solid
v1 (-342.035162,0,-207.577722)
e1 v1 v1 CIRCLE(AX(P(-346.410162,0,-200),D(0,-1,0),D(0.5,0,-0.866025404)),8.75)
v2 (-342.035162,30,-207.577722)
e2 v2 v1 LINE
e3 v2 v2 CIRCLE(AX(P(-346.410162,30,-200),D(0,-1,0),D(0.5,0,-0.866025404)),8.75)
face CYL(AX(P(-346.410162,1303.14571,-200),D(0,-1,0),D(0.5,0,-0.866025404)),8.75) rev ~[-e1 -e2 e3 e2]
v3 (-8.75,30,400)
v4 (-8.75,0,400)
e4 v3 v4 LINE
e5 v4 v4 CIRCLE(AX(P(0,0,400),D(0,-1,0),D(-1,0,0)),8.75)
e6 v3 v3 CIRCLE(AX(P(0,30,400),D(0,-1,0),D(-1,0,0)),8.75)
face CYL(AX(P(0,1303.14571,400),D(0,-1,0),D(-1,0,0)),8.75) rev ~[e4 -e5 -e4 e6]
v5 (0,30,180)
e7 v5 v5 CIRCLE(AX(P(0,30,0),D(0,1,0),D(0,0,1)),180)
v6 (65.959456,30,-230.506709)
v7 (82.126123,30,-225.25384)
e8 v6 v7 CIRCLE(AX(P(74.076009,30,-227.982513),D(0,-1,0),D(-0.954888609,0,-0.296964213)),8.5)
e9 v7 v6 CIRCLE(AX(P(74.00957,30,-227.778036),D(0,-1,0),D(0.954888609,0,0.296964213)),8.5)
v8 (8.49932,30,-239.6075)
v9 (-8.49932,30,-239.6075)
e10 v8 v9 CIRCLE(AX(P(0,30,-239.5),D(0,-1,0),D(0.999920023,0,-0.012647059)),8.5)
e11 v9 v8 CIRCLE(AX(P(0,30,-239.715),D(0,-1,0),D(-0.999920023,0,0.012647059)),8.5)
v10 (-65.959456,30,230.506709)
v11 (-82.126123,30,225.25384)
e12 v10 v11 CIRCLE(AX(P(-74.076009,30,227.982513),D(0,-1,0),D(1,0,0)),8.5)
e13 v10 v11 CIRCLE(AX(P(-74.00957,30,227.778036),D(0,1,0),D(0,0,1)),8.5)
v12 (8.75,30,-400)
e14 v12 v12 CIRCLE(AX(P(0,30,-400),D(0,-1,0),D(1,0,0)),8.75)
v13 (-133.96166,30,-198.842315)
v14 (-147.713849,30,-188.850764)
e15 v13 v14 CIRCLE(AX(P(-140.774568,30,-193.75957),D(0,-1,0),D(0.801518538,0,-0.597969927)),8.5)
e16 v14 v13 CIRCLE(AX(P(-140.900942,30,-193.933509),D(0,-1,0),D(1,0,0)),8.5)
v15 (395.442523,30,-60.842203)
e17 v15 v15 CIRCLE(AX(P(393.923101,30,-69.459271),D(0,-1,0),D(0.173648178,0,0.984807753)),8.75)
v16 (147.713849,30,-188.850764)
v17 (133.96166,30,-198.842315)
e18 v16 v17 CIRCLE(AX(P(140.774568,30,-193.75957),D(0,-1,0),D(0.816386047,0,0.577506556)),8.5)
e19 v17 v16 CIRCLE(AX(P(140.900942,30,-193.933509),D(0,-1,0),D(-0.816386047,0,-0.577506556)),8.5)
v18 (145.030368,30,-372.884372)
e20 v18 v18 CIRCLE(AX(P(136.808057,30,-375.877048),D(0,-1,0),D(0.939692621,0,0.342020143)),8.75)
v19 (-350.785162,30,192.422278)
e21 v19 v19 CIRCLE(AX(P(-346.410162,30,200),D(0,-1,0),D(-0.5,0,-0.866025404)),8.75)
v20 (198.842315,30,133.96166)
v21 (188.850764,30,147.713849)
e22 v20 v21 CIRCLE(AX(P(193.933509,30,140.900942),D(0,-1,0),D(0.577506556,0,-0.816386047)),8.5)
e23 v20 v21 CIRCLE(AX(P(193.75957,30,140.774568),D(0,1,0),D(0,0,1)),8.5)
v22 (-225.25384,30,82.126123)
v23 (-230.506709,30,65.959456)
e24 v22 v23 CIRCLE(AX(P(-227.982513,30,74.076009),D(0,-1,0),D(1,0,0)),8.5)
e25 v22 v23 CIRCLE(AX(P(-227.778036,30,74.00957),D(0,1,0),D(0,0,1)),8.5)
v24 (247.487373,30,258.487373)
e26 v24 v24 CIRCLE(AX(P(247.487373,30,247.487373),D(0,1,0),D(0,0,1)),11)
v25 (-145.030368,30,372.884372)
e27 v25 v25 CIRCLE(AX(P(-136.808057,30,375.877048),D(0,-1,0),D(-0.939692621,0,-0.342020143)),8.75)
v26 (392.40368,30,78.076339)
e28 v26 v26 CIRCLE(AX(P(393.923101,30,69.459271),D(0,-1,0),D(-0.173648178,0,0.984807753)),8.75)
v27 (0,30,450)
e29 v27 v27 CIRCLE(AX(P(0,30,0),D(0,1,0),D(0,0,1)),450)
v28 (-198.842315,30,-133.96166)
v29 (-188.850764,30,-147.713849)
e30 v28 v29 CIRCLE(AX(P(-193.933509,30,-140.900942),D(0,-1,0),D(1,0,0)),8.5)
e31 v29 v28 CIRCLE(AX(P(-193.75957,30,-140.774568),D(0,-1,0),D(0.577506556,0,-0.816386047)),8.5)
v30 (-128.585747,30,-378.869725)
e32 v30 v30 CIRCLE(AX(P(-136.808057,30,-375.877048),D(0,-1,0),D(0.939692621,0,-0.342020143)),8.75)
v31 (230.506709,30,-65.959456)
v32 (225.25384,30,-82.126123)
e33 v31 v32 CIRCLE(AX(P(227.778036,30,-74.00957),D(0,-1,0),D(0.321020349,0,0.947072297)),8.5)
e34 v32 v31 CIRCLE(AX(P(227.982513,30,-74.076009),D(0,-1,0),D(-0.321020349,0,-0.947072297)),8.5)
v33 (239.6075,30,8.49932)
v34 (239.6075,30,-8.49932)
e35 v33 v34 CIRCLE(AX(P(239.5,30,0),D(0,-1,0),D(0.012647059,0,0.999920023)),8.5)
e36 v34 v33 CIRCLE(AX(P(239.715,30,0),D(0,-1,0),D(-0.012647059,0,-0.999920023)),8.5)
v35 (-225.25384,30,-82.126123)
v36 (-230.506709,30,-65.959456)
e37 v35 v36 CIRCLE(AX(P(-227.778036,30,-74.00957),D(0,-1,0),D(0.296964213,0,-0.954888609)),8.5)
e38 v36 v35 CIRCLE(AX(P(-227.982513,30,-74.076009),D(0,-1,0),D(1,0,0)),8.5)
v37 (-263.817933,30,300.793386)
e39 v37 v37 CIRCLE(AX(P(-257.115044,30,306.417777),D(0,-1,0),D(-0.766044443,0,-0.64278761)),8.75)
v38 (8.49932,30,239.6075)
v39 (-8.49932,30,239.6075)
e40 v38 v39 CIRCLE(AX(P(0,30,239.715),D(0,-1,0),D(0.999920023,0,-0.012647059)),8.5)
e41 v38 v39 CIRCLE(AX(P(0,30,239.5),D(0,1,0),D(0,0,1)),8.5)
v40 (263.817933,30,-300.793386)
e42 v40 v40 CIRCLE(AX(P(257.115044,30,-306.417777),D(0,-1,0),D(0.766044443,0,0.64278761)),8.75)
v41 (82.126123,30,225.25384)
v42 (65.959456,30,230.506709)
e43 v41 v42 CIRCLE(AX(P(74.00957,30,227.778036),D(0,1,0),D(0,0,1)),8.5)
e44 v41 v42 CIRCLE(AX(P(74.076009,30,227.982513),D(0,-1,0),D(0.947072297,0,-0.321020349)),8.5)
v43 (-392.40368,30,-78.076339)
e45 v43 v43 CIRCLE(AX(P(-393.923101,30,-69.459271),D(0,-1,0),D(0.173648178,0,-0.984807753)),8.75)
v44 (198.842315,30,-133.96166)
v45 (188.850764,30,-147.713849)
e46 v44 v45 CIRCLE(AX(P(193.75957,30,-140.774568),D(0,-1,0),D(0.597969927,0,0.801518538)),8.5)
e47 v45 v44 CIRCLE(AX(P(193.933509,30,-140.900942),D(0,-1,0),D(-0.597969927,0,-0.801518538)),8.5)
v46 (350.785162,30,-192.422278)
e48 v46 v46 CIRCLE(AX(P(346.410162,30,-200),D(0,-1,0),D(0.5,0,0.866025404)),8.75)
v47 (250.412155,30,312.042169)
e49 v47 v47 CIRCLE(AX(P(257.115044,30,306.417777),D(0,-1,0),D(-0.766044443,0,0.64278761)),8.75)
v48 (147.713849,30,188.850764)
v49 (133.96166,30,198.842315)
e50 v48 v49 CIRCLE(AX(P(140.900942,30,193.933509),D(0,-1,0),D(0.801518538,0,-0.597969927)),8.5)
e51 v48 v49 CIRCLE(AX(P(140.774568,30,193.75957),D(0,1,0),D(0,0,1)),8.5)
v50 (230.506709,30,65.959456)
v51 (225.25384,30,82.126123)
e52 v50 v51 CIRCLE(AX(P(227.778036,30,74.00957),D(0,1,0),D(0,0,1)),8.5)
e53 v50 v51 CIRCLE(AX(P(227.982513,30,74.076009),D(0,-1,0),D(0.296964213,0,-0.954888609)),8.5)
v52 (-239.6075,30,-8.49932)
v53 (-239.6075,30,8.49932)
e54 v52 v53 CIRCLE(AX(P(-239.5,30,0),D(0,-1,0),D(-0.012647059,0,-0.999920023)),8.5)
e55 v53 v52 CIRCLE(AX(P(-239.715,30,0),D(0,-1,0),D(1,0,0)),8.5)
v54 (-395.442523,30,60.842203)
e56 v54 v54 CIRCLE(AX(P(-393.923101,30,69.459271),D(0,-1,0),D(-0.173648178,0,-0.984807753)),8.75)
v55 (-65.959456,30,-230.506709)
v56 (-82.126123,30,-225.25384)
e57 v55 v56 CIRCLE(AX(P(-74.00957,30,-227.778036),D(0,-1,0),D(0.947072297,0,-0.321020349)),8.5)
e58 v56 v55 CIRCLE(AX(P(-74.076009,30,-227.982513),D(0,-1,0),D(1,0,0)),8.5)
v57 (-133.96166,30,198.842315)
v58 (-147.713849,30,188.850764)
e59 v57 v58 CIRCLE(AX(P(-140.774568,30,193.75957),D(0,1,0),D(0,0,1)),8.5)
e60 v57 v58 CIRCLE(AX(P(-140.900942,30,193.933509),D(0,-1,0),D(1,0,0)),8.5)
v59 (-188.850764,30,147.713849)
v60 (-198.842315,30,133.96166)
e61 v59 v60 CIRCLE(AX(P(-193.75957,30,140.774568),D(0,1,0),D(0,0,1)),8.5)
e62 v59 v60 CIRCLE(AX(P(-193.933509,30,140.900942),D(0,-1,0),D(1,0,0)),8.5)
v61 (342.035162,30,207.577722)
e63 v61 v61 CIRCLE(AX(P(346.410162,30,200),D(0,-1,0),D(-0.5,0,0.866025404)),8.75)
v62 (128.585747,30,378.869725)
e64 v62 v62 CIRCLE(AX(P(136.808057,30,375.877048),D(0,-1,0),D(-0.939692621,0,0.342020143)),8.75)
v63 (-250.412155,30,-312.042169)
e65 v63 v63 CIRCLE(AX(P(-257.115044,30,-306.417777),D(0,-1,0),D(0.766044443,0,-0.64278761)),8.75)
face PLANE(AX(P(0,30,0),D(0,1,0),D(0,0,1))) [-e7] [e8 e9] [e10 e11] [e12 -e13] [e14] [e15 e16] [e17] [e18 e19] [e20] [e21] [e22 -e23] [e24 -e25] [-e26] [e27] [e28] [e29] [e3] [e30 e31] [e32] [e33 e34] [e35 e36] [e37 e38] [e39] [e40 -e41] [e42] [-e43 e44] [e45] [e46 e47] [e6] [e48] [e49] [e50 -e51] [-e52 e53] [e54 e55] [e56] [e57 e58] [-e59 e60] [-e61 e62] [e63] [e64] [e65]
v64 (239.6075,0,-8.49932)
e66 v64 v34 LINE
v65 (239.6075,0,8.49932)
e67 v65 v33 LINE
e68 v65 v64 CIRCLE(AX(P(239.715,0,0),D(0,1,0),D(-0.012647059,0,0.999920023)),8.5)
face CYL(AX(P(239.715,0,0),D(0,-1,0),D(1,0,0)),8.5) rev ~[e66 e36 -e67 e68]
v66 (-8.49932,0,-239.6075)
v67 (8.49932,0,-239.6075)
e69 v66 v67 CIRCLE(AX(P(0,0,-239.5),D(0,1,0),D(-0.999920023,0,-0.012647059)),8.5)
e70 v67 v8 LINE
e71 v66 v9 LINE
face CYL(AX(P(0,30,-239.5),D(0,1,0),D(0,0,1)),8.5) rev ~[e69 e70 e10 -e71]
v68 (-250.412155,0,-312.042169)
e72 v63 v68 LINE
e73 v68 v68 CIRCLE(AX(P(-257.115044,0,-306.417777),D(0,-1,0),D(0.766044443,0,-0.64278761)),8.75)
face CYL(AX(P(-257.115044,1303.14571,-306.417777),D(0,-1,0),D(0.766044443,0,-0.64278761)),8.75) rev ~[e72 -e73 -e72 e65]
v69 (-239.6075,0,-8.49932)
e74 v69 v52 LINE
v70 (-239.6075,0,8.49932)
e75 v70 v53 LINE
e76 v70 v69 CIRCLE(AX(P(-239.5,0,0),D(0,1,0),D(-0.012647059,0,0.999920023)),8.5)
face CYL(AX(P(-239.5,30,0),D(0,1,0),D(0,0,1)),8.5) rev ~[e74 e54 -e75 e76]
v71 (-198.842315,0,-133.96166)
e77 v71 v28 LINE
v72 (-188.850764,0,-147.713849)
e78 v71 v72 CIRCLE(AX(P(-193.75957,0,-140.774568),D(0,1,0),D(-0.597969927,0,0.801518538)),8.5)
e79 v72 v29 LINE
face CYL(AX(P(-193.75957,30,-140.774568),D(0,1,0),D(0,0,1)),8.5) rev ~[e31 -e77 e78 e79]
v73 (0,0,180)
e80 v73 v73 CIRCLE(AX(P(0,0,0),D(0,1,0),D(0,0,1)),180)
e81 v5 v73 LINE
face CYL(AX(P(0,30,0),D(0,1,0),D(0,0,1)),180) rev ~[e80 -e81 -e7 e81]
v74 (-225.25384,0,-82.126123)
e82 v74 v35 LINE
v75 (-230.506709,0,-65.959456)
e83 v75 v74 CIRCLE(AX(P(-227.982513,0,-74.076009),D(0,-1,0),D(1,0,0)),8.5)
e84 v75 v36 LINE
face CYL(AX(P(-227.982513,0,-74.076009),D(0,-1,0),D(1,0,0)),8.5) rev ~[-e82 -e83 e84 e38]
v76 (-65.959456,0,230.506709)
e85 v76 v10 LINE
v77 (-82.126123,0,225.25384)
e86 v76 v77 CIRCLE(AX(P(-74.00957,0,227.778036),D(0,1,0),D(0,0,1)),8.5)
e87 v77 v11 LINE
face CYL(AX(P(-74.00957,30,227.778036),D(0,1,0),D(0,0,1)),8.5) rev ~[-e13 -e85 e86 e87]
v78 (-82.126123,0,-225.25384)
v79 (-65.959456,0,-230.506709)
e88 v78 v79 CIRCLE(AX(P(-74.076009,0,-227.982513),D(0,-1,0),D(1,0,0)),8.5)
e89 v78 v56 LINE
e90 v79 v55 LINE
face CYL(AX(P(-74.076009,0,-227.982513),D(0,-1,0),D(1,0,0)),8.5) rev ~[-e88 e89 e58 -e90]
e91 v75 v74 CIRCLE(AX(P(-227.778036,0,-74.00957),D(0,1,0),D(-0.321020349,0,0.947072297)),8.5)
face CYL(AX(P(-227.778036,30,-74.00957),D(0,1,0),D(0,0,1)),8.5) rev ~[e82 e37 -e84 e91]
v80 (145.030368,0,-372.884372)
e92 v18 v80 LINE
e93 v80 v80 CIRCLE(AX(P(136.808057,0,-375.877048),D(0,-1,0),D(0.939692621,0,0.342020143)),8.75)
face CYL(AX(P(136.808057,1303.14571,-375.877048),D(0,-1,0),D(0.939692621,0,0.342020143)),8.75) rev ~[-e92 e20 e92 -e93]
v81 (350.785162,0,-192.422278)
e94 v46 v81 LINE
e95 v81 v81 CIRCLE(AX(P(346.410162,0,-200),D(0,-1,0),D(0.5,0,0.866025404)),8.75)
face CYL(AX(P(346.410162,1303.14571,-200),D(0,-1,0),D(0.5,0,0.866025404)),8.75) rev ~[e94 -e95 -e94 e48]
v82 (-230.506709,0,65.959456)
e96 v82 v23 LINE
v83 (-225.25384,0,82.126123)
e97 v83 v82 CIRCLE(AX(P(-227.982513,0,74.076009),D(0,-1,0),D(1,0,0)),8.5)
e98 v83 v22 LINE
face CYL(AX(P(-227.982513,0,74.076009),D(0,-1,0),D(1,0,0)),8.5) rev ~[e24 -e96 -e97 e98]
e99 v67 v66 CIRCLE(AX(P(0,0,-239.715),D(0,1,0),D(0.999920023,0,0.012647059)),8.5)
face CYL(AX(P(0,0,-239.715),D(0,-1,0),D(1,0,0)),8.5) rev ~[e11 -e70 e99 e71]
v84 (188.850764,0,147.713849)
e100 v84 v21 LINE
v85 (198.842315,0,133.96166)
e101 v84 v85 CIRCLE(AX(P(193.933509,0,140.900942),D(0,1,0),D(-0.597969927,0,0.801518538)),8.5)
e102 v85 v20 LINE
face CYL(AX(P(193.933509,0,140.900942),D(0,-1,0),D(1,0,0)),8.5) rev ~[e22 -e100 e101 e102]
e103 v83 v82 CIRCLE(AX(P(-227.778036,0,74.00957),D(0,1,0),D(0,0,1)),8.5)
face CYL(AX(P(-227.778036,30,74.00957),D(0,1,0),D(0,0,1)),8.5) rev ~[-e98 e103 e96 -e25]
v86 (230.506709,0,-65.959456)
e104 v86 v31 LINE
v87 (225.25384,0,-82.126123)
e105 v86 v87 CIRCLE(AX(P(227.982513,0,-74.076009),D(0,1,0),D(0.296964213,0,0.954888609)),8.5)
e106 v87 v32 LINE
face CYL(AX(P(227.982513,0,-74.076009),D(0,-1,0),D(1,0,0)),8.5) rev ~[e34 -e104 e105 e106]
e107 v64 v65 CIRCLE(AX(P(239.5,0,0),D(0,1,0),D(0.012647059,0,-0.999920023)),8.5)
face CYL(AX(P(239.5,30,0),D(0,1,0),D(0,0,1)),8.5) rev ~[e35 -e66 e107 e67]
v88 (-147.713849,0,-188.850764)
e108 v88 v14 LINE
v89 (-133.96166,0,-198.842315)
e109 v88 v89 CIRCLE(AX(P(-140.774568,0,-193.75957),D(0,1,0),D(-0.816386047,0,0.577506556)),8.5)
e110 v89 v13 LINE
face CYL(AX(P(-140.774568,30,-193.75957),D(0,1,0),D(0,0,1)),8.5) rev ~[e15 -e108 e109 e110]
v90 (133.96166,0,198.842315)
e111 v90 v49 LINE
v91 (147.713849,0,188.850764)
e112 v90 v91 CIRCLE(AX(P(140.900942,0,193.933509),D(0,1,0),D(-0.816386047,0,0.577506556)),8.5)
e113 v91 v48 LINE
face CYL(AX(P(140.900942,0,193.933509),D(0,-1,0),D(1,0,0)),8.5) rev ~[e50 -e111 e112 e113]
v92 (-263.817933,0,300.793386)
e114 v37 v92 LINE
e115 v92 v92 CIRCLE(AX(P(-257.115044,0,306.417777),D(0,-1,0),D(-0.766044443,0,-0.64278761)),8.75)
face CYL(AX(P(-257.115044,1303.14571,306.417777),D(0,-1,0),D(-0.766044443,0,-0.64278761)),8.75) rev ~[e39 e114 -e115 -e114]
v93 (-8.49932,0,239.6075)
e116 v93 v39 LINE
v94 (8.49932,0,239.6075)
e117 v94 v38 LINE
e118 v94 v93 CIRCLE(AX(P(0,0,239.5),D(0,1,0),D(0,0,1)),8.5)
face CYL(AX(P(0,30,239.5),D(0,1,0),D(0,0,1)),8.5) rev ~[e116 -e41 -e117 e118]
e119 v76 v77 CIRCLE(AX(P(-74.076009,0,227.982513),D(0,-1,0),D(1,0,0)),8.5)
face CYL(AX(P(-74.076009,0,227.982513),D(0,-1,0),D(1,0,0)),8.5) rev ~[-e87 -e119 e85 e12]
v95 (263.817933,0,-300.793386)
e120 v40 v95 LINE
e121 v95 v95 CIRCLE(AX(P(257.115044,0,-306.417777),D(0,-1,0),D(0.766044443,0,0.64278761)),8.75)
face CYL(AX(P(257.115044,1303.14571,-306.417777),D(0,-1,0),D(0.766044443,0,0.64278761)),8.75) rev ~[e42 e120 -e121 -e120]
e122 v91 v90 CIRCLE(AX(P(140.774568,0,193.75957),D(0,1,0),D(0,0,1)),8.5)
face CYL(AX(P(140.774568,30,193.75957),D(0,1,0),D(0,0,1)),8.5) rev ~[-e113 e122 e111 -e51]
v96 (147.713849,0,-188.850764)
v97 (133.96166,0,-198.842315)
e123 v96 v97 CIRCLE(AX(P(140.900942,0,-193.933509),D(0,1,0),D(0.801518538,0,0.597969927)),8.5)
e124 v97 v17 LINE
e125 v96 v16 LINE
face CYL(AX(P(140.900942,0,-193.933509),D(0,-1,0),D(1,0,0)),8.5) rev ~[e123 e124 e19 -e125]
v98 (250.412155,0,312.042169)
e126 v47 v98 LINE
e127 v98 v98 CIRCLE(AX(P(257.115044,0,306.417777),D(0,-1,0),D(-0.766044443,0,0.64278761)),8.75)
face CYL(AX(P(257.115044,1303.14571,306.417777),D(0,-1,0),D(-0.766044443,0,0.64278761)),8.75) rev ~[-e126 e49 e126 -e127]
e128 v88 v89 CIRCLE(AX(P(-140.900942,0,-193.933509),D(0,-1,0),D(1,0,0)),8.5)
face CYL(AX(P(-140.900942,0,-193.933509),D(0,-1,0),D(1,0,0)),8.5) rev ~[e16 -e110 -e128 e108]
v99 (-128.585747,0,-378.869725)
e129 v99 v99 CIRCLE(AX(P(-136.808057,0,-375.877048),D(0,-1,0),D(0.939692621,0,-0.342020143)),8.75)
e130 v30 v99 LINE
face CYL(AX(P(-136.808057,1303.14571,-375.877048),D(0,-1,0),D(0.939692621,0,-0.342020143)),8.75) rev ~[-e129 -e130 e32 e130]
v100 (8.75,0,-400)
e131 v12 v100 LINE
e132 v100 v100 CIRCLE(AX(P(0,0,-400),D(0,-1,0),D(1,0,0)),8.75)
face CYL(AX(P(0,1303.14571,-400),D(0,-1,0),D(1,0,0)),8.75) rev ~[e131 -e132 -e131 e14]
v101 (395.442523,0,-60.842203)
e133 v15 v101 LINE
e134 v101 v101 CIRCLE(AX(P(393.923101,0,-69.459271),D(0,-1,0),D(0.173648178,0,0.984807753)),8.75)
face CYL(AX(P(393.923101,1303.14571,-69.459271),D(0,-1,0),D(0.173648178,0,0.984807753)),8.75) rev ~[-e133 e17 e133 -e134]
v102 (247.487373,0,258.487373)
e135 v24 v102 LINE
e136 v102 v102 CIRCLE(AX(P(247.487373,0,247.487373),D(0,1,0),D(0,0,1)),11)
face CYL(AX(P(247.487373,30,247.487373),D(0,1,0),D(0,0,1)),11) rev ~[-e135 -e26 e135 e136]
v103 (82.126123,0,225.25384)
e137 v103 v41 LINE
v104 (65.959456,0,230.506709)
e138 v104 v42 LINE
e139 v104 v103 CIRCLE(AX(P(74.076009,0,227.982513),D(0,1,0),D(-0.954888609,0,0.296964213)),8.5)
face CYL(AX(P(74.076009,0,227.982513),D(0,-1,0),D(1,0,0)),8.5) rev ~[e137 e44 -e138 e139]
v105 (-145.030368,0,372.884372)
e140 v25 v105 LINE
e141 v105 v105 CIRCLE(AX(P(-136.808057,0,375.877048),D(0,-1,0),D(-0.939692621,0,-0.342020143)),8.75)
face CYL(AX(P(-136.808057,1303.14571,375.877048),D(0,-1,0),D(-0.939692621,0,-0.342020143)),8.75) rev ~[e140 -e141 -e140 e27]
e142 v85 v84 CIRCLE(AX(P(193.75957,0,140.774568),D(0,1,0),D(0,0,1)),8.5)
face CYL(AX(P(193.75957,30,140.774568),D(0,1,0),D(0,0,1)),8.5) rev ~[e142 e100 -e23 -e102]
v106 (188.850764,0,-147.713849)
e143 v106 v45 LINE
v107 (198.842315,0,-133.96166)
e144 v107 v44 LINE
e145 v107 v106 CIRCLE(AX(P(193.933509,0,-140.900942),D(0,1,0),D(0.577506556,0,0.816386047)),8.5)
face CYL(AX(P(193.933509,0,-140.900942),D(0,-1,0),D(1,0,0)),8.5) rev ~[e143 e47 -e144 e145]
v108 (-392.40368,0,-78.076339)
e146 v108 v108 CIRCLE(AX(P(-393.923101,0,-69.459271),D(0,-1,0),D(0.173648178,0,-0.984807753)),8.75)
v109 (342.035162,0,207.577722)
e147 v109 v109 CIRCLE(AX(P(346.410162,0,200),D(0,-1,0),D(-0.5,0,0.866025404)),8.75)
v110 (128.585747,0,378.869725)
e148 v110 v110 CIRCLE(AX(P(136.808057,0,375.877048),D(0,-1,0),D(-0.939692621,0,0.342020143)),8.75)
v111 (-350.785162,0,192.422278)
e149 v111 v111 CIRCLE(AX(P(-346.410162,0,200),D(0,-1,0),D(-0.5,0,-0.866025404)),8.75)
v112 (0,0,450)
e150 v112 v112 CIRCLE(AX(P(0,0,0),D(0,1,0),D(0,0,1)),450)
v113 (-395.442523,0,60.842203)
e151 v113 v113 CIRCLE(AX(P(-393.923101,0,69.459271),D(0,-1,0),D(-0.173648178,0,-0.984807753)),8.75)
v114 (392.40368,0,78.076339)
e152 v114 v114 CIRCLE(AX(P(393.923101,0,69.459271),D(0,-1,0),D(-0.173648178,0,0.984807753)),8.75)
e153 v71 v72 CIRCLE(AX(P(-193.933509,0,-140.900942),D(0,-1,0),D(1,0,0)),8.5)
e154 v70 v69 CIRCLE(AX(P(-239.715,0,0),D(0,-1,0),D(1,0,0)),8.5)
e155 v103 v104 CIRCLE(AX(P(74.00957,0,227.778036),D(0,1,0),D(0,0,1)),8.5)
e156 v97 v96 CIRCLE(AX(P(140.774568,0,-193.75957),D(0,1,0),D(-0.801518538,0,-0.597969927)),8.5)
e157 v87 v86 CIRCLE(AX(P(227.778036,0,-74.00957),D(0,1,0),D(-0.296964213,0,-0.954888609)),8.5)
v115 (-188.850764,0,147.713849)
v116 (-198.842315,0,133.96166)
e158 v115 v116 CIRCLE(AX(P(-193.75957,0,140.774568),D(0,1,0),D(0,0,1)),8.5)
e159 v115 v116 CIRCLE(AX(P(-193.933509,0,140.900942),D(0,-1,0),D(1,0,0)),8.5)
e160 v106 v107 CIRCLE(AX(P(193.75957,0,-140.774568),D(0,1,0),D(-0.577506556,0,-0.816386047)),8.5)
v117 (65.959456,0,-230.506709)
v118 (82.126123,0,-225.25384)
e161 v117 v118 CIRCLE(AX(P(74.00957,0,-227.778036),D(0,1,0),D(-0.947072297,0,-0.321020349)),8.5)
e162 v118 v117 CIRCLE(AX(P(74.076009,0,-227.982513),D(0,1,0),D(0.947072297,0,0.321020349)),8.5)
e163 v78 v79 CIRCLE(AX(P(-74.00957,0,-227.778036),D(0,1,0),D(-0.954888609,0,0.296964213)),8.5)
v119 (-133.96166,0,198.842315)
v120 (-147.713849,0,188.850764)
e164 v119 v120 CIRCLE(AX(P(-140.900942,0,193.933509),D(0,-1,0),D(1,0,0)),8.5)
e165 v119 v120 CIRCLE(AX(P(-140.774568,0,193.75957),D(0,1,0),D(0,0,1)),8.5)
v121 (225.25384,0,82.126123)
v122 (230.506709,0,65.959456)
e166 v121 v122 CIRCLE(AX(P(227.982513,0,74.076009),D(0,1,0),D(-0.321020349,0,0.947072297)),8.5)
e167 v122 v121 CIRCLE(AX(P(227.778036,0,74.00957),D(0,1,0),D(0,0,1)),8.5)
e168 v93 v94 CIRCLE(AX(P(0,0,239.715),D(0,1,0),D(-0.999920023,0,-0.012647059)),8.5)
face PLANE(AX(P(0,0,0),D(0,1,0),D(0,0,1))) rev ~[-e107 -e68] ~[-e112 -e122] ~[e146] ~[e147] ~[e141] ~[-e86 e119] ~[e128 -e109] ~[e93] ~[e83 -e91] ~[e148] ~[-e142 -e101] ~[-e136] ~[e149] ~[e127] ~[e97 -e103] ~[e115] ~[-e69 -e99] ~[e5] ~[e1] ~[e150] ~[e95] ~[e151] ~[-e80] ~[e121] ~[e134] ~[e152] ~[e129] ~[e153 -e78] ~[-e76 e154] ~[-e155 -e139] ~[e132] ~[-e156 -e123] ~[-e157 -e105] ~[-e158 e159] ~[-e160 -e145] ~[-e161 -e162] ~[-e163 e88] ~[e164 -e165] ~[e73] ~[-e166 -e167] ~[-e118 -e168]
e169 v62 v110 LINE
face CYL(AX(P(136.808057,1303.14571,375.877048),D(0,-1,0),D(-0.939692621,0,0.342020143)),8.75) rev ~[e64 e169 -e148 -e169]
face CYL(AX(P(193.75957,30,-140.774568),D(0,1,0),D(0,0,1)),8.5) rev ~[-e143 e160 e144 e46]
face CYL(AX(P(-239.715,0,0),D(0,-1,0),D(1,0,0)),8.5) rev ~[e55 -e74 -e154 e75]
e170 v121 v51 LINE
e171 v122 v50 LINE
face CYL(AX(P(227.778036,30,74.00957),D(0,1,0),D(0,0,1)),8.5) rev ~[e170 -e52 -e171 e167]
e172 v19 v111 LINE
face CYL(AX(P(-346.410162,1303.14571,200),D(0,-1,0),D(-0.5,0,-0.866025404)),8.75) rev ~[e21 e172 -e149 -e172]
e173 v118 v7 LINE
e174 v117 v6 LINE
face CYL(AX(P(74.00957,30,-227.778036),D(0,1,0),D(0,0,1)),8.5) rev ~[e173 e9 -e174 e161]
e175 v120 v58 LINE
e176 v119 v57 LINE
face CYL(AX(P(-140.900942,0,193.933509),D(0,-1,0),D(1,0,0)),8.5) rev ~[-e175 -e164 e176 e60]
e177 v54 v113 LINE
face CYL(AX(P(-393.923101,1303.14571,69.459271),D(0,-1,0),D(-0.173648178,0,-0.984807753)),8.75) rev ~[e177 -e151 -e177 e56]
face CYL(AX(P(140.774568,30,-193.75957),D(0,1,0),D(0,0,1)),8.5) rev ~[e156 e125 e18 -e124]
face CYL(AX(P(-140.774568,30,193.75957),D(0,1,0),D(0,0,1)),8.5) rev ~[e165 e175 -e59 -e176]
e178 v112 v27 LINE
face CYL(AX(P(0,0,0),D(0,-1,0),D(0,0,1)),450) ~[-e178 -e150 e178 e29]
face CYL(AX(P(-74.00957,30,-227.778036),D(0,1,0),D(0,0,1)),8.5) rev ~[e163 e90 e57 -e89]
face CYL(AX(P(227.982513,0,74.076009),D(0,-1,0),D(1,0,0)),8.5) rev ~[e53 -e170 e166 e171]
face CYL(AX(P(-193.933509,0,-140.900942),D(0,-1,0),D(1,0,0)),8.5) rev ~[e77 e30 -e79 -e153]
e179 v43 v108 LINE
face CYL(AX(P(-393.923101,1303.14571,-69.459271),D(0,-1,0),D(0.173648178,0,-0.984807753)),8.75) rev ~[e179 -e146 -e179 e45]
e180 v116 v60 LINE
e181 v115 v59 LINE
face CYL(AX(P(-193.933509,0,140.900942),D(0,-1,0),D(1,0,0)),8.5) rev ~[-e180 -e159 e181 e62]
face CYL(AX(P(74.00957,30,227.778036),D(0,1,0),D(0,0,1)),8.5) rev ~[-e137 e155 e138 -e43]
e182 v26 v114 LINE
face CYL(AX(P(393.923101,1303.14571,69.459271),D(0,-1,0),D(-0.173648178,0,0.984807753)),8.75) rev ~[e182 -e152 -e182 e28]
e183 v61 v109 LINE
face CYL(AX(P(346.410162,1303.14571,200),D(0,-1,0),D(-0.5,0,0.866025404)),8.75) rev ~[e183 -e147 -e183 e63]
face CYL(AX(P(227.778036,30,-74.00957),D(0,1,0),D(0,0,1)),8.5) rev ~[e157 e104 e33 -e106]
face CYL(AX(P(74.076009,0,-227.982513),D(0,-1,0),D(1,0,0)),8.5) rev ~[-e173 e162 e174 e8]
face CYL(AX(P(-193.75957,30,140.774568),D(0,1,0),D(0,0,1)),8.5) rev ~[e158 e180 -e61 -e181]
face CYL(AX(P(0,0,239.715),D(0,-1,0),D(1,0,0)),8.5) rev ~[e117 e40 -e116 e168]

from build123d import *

# Parameters (mm, degrees)
SKETCH_1_R               = 450
EXTRUDE_1_DEPTH          = 30
CUT_EXTRUDE_1_REACH      = 639.103
SKETCH_2_R               = 8.5
CUT_EXTRUDE_2_REACH      = 639.103
SKETCH_3_R               = 180
SKETCH_7_R               = 8.5
CUT_EXTRUDE_5_DEPTH      = 30
CUT_EXTRUDE_6_REACH      = 639.103
SKETCH_9_R               = 8.5
PATTERN_CIRCULAR_3_COUNT = 18
SKETCH_11_R              = 11
CUT_EXTRUDE_7_DEPTH      = 638.102817448
HOLE_WIZARD_M16_8_D      = 17.5
PATTERN_CIRCULAR_5_COUNT = 18


with BuildPart() as part:
    # 草图1 → 凸台-拉伸1 (new body)
    with BuildSketch(Plane(origin=(0, 0, 0), x_dir=(1, 0, 0), z_dir=(0, 1, 0))):
        with Locations(Location((0, 0, 0), (0, 0, 270))):
            Circle(SKETCH_1_R)
    extrude(amount=EXTRUDE_1_DEPTH)

    # 草图2 → 切除-拉伸1 (cut, up to next)
    with BuildSketch(Plane(origin=(0, 30, 0), x_dir=(1, 0, 0), z_dir=(0, 1, 0)), mode=Mode.PRIVATE) as cut_extrude_1_sk1:
        with Locations(Location((0, 239.5, 0), (0, 0, 270))):
            Circle(SKETCH_2_R)
    cut_extrude_1_tool1 = extrude(cut_extrude_1_sk1.sketch, amount=-CUT_EXTRUDE_1_REACH, mode=Mode.PRIVATE) & part.part
    # 草图2 → 切除-拉伸1 (cut, up to next)
    with BuildSketch(Plane(origin=(0, 30, 0), x_dir=(1, 0, 0), z_dir=(0, 1, 0)), mode=Mode.PRIVATE) as cut_extrude_1_sk2:
        with Locations(Location((74.009570153, 227.778035653, 0), (0, 0, 270))):
            Circle(SKETCH_2_R)
    cut_extrude_1_tool2 = extrude(cut_extrude_1_sk2.sketch, amount=-CUT_EXTRUDE_1_REACH, mode=Mode.PRIVATE) & part.part
    # 草图2 → 切除-拉伸1 (cut, up to next)
    with BuildSketch(Plane(origin=(0, 30, 0), x_dir=(1, 0, 0), z_dir=(0, 1, 0)), mode=Mode.PRIVATE) as cut_extrude_1_sk3:
        with Locations(Location((140.774567924, 193.759570153, 0), (0, 0, 270))):
            Circle(SKETCH_2_R)
    cut_extrude_1_tool3 = extrude(cut_extrude_1_sk3.sketch, amount=-CUT_EXTRUDE_1_REACH, mode=Mode.PRIVATE) & part.part
    # 草图2 → 切除-拉伸1 (cut, up to next)
    with BuildSketch(Plane(origin=(0, 30, 0), x_dir=(1, 0, 0), z_dir=(0, 1, 0)), mode=Mode.PRIVATE) as cut_extrude_1_sk4:
        with Locations(Location((193.759570153, 140.774567924, 0), (0, 0, 270))):
            Circle(SKETCH_2_R)
    cut_extrude_1_tool4 = extrude(cut_extrude_1_sk4.sketch, amount=-CUT_EXTRUDE_1_REACH, mode=Mode.PRIVATE) & part.part
    # 草图2 → 切除-拉伸1 (cut, up to next)
    with BuildSketch(Plane(origin=(0, 30, 0), x_dir=(1, 0, 0), z_dir=(0, 1, 0)), mode=Mode.PRIVATE) as cut_extrude_1_sk5:
        with Locations(Location((227.778035653, 74.009570153, 0), (0, 0, 270))):
            Circle(SKETCH_2_R)
    cut_extrude_1_tool5 = extrude(cut_extrude_1_sk5.sketch, amount=-CUT_EXTRUDE_1_REACH, mode=Mode.PRIVATE) & part.part
    # 草图2 → 切除-拉伸1 (cut, up to next)
    with BuildSketch(Plane(origin=(0, 30, 0), x_dir=(1, 0, 0), z_dir=(0, 1, 0)), mode=Mode.PRIVATE) as cut_extrude_1_sk6:
        with Locations(Location((239.5, 0, 0), (0, 0, 270))):
            Circle(SKETCH_2_R)
    cut_extrude_1_tool6 = extrude(cut_extrude_1_sk6.sketch, amount=-CUT_EXTRUDE_1_REACH, mode=Mode.PRIVATE) & part.part
    # 草图2 → 切除-拉伸1 (cut, up to next)
    with BuildSketch(Plane(origin=(0, 30, 0), x_dir=(1, 0, 0), z_dir=(0, 1, 0)), mode=Mode.PRIVATE) as cut_extrude_1_sk7:
        with Locations(Location((227.778035653, -74.009570153, 0), (0, 0, 270))):
            Circle(SKETCH_2_R)
    cut_extrude_1_tool7 = extrude(cut_extrude_1_sk7.sketch, amount=-CUT_EXTRUDE_1_REACH, mode=Mode.PRIVATE) & part.part
    # 草图2 → 切除-拉伸1 (cut, up to next)
    with BuildSketch(Plane(origin=(0, 30, 0), x_dir=(1, 0, 0), z_dir=(0, 1, 0)), mode=Mode.PRIVATE) as cut_extrude_1_sk8:
        with Locations(Location((193.759570153, -140.774567924, 0), (0, 0, 270))):
            Circle(SKETCH_2_R)
    cut_extrude_1_tool8 = extrude(cut_extrude_1_sk8.sketch, amount=-CUT_EXTRUDE_1_REACH, mode=Mode.PRIVATE) & part.part
    # 草图2 → 切除-拉伸1 (cut, up to next)
    with BuildSketch(Plane(origin=(0, 30, 0), x_dir=(1, 0, 0), z_dir=(0, 1, 0)), mode=Mode.PRIVATE) as cut_extrude_1_sk9:
        with Locations(Location((140.774567924, -193.759570153, 0), (0, 0, 270))):
            Circle(SKETCH_2_R)
    cut_extrude_1_tool9 = extrude(cut_extrude_1_sk9.sketch, amount=-CUT_EXTRUDE_1_REACH, mode=Mode.PRIVATE) & part.part
    # 草图2 → 切除-拉伸1 (cut, up to next)
    with BuildSketch(Plane(origin=(0, 30, 0), x_dir=(1, 0, 0), z_dir=(0, 1, 0)), mode=Mode.PRIVATE) as cut_extrude_1_sk10:
        with Locations(Location((74.009570153, -227.778035653, 0), (0, 0, 270))):
            Circle(SKETCH_2_R)
    cut_extrude_1_tool10 = extrude(cut_extrude_1_sk10.sketch, amount=-CUT_EXTRUDE_1_REACH, mode=Mode.PRIVATE) & part.part
    # 草图2 → 切除-拉伸1 (cut, up to next)
    with BuildSketch(Plane(origin=(0, 30, 0), x_dir=(1, 0, 0), z_dir=(0, 1, 0)), mode=Mode.PRIVATE) as cut_extrude_1_sk11:
        with Locations(Location((0, -239.5, 0), (0, 0, 270))):
            Circle(SKETCH_2_R)
    cut_extrude_1_tool11 = extrude(cut_extrude_1_sk11.sketch, amount=-CUT_EXTRUDE_1_REACH, mode=Mode.PRIVATE) & part.part
    # 草图2 → 切除-拉伸1 (cut, up to next)
    with BuildSketch(Plane(origin=(0, 30, 0), x_dir=(1, 0, 0), z_dir=(0, 1, 0)), mode=Mode.PRIVATE) as cut_extrude_1_sk12:
        with Locations(Location((-74.009570153, -227.778035653, 0), (0, 0, 270))):
            Circle(SKETCH_2_R)
    cut_extrude_1_tool12 = extrude(cut_extrude_1_sk12.sketch, amount=-CUT_EXTRUDE_1_REACH, mode=Mode.PRIVATE) & part.part
    # 草图2 → 切除-拉伸1 (cut, up to next)
    with BuildSketch(Plane(origin=(0, 30, 0), x_dir=(1, 0, 0), z_dir=(0, 1, 0)), mode=Mode.PRIVATE) as cut_extrude_1_sk13:
        with Locations(Location((-140.774567924, -193.759570153, 0), (0, 0, 270))):
            Circle(SKETCH_2_R)
    cut_extrude_1_tool13 = extrude(cut_extrude_1_sk13.sketch, amount=-CUT_EXTRUDE_1_REACH, mode=Mode.PRIVATE) & part.part
    # 草图2 → 切除-拉伸1 (cut, up to next)
    with BuildSketch(Plane(origin=(0, 30, 0), x_dir=(1, 0, 0), z_dir=(0, 1, 0)), mode=Mode.PRIVATE) as cut_extrude_1_sk14:
        with Locations(Location((-193.759570153, -140.774567924, 0), (0, 0, 270))):
            Circle(SKETCH_2_R)
    cut_extrude_1_tool14 = extrude(cut_extrude_1_sk14.sketch, amount=-CUT_EXTRUDE_1_REACH, mode=Mode.PRIVATE) & part.part
    # 草图2 → 切除-拉伸1 (cut, up to next)
    with BuildSketch(Plane(origin=(0, 30, 0), x_dir=(1, 0, 0), z_dir=(0, 1, 0)), mode=Mode.PRIVATE) as cut_extrude_1_sk15:
        with Locations(Location((-227.778035653, -74.009570153, 0), (0, 0, 270))):
            Circle(SKETCH_2_R)
    cut_extrude_1_tool15 = extrude(cut_extrude_1_sk15.sketch, amount=-CUT_EXTRUDE_1_REACH, mode=Mode.PRIVATE) & part.part
    # 草图2 → 切除-拉伸1 (cut, up to next)
    with BuildSketch(Plane(origin=(0, 30, 0), x_dir=(1, 0, 0), z_dir=(0, 1, 0)), mode=Mode.PRIVATE) as cut_extrude_1_sk16:
        with Locations(Location((-239.5, 0, 0), (0, 0, 270))):
            Circle(SKETCH_2_R)
    cut_extrude_1_tool16 = extrude(cut_extrude_1_sk16.sketch, amount=-CUT_EXTRUDE_1_REACH, mode=Mode.PRIVATE) & part.part
    # 草图2 → 切除-拉伸1 (cut, up to next)
    with BuildSketch(Plane(origin=(0, 30, 0), x_dir=(1, 0, 0), z_dir=(0, 1, 0)), mode=Mode.PRIVATE) as cut_extrude_1_sk17:
        with Locations(Location((-227.778035653, 74.009570153, 0), (0, 0, 270))):
            Circle(SKETCH_2_R)
    cut_extrude_1_tool17 = extrude(cut_extrude_1_sk17.sketch, amount=-CUT_EXTRUDE_1_REACH, mode=Mode.PRIVATE) & part.part
    # 草图2 → 切除-拉伸1 (cut, up to next)
    with BuildSketch(Plane(origin=(0, 30, 0), x_dir=(1, 0, 0), z_dir=(0, 1, 0)), mode=Mode.PRIVATE) as cut_extrude_1_sk18:
        with Locations(Location((-193.759570153, 140.774567924, 0), (0, 0, 270))):
            Circle(SKETCH_2_R)
    cut_extrude_1_tool18 = extrude(cut_extrude_1_sk18.sketch, amount=-CUT_EXTRUDE_1_REACH, mode=Mode.PRIVATE) & part.part
    # 草图2 → 切除-拉伸1 (cut, up to next)
    with BuildSketch(Plane(origin=(0, 30, 0), x_dir=(1, 0, 0), z_dir=(0, 1, 0)), mode=Mode.PRIVATE) as cut_extrude_1_sk19:
        with Locations(Location((-140.774567924, 193.759570153, 0), (0, 0, 270))):
            Circle(SKETCH_2_R)
    cut_extrude_1_tool19 = extrude(cut_extrude_1_sk19.sketch, amount=-CUT_EXTRUDE_1_REACH, mode=Mode.PRIVATE) & part.part
    # 草图2 → 切除-拉伸1 (cut, up to next)
    with BuildSketch(Plane(origin=(0, 30, 0), x_dir=(1, 0, 0), z_dir=(0, 1, 0)), mode=Mode.PRIVATE) as cut_extrude_1_sk20:
        with Locations(Location((-74.009570153, 227.778035653, 0), (0, 0, 270))):
            Circle(SKETCH_2_R)
    cut_extrude_1_tool20 = extrude(cut_extrude_1_sk20.sketch, amount=-CUT_EXTRUDE_1_REACH, mode=Mode.PRIVATE) & part.part
    add(cut_extrude_1_tool1.solids().sort_by_distance((0, 30, -239.5))[0], mode=Mode.SUBTRACT)
    add(cut_extrude_1_tool2.solids().sort_by_distance((74.00957, 30, -227.778036))[0], mode=Mode.SUBTRACT)
    add(cut_extrude_1_tool3.solids().sort_by_distance((140.774568, 30, -193.75957))[0], mode=Mode.SUBTRACT)
    add(cut_extrude_1_tool4.solids().sort_by_distance((193.75957, 30, -140.774568))[0], mode=Mode.SUBTRACT)
    add(cut_extrude_1_tool5.solids().sort_by_distance((227.778036, 30, -74.00957))[0], mode=Mode.SUBTRACT)
    add(cut_extrude_1_tool6.solids().sort_by_distance((239.5, 30, 0))[0], mode=Mode.SUBTRACT)
    add(cut_extrude_1_tool7.solids().sort_by_distance((227.778036, 30, 74.00957))[0], mode=Mode.SUBTRACT)
    add(cut_extrude_1_tool8.solids().sort_by_distance((193.75957, 30, 140.774568))[0], mode=Mode.SUBTRACT)
    add(cut_extrude_1_tool9.solids().sort_by_distance((140.774568, 30, 193.75957))[0], mode=Mode.SUBTRACT)
    add(cut_extrude_1_tool10.solids().sort_by_distance((74.00957, 30, 227.778036))[0], mode=Mode.SUBTRACT)
    add(cut_extrude_1_tool11.solids().sort_by_distance((0, 30, 239.5))[0], mode=Mode.SUBTRACT)
    add(cut_extrude_1_tool12.solids().sort_by_distance((-74.00957, 30, 227.778036))[0], mode=Mode.SUBTRACT)
    add(cut_extrude_1_tool13.solids().sort_by_distance((-140.774568, 30, 193.75957))[0], mode=Mode.SUBTRACT)
    add(cut_extrude_1_tool14.solids().sort_by_distance((-193.75957, 30, 140.774568))[0], mode=Mode.SUBTRACT)
    add(cut_extrude_1_tool15.solids().sort_by_distance((-227.778036, 30, 74.00957))[0], mode=Mode.SUBTRACT)
    add(cut_extrude_1_tool16.solids().sort_by_distance((-239.5, 30, 0))[0], mode=Mode.SUBTRACT)
    add(cut_extrude_1_tool17.solids().sort_by_distance((-227.778036, 30, -74.00957))[0], mode=Mode.SUBTRACT)
    add(cut_extrude_1_tool18.solids().sort_by_distance((-193.75957, 30, -140.774568))[0], mode=Mode.SUBTRACT)
    add(cut_extrude_1_tool19.solids().sort_by_distance((-140.774568, 30, -193.75957))[0], mode=Mode.SUBTRACT)
    add(cut_extrude_1_tool20.solids().sort_by_distance((-74.00957, 30, -227.778036))[0], mode=Mode.SUBTRACT)

    # 草图3 → 切除-拉伸2 (cut, up to next)
    with BuildSketch(Plane(origin=(0, 30, 0), x_dir=(1, 0, 0), z_dir=(0, 1, 0)), mode=Mode.PRIVATE) as cut_extrude_2_sk1:
        with Locations(Location((0, 0, 0), (0, 0, 270))):
            Circle(SKETCH_3_R)
    cut_extrude_2_tool1 = extrude(cut_extrude_2_sk1.sketch, amount=-CUT_EXTRUDE_2_REACH, mode=Mode.PRIVATE) & part.part
    add(cut_extrude_2_tool1.solids().sort_by_distance((0, 30, 0))[0], mode=Mode.SUBTRACT)

    # 草图7 → 切除-拉伸5 (cut)
    with BuildSketch(Plane.XZ):
        with Locations((239.715, 0)):
            Circle(SKETCH_7_R)
        with Locations((227.982512804, -74.076008807)):
            Circle(SKETCH_7_R)
        with Locations((193.933508807, -140.900941753)):
            Circle(SKETCH_7_R)
        with Locations((140.900941753, -193.933508807)):
            Circle(SKETCH_7_R)
        with Locations((74.076008807, -227.982512804)):
            Circle(SKETCH_7_R)
        with Locations((0, -239.715)):
            Circle(SKETCH_7_R)
        with Locations((-74.076008807, -227.982512804)):
            Circle(SKETCH_7_R)
        with Locations((-140.900941753, -193.933508807)):
            Circle(SKETCH_7_R)
        with Locations((-193.933508807, -140.900941753)):
            Circle(SKETCH_7_R)
        with Locations((-227.982512804, -74.076008807)):
            Circle(SKETCH_7_R)
        with Locations((-239.715, 0)):
            Circle(SKETCH_7_R)
        with Locations((-227.982512804, 74.076008807)):
            Circle(SKETCH_7_R)
        with Locations((-193.933508807, 140.900941753)):
            Circle(SKETCH_7_R)
        with Locations((-140.900941753, 193.933508807)):
            Circle(SKETCH_7_R)
        with Locations((-74.076008807, 227.982512804)):
            Circle(SKETCH_7_R)
        with Locations((0, 239.715)):
            Circle(SKETCH_7_R)
        with Locations((74.076008807, 227.982512804)):
            Circle(SKETCH_7_R)
        with Locations((140.900941753, 193.933508807)):
            Circle(SKETCH_7_R)
        with Locations((193.933508807, 140.900941753)):
            Circle(SKETCH_7_R)
        with Locations((227.982512804, 74.076008807)):
            Circle(SKETCH_7_R)
    extrude(amount=-CUT_EXTRUDE_5_DEPTH, mode=Mode.SUBTRACT)

    # 草图9 → 切除-拉伸6 (cut, up to next)
    with BuildSketch(Plane.XZ, mode=Mode.PRIVATE) as cut_extrude_6_sk1:
        with Locations(Location((0, 400, 0), (0, 0, 270))):
            Circle(SKETCH_9_R)
    cut_extrude_6_tool1 = extrude(cut_extrude_6_sk1.sketch, amount=-CUT_EXTRUDE_6_REACH, mode=Mode.PRIVATE) & part.part
    cut_extrude_6 = cut_extrude_6_tool1.solids().sort_by_distance((0, 0, 400))[0]
    add(cut_extrude_6, mode=Mode.SUBTRACT)

    # 阵列(圆周)3: 切除-拉伸6 ×18 about axis
    pattern_circular_3_axis = Axis((0, 0, 0), (0, 1, 0))
    for i in range(1, PATTERN_CIRCULAR_3_COUNT):
        add(cut_extrude_6.rotate(pattern_circular_3_axis, i * 360 / PATTERN_CIRCULAR_3_COUNT), mode=Mode.SUBTRACT)

    # 草图11 → 切除-拉伸7 (cut, through all)
    with BuildSketch(Plane(origin=(0, 30, 0), x_dir=(1, 0, 0), z_dir=(0, 1, 0))):
        with Locations(Location((247.487373415, -247.487373415, 0), (0, 0, 270))):
            Circle(SKETCH_11_R)
    extrude(amount=-CUT_EXTRUDE_7_DEPTH, mode=Mode.SUBTRACT)

    # M16 螺纹孔8 (through all)
    with Locations(Plane(origin=(0, 30, 0), x_dir=(1, 0, 0), z_dir=(0, 1, 0))):
        with Locations((0, -400)):
            hole_wizard_m16_8 = Hole(HOLE_WIZARD_M16_8_D / 2)

    # 阵列(圆周)5: M16 螺纹孔8 ×18 about axis
    pattern_circular_5_axis = Axis((0, 0, 0), (0, 1, 0))
    for i in range(1, PATTERN_CIRCULAR_5_COUNT):
        add(hole_wizard_m16_8.rotate(pattern_circular_5_axis, i * 360 / PATTERN_CIRCULAR_5_COUNT), mode=Mode.SUBTRACT)


solid = part.part
